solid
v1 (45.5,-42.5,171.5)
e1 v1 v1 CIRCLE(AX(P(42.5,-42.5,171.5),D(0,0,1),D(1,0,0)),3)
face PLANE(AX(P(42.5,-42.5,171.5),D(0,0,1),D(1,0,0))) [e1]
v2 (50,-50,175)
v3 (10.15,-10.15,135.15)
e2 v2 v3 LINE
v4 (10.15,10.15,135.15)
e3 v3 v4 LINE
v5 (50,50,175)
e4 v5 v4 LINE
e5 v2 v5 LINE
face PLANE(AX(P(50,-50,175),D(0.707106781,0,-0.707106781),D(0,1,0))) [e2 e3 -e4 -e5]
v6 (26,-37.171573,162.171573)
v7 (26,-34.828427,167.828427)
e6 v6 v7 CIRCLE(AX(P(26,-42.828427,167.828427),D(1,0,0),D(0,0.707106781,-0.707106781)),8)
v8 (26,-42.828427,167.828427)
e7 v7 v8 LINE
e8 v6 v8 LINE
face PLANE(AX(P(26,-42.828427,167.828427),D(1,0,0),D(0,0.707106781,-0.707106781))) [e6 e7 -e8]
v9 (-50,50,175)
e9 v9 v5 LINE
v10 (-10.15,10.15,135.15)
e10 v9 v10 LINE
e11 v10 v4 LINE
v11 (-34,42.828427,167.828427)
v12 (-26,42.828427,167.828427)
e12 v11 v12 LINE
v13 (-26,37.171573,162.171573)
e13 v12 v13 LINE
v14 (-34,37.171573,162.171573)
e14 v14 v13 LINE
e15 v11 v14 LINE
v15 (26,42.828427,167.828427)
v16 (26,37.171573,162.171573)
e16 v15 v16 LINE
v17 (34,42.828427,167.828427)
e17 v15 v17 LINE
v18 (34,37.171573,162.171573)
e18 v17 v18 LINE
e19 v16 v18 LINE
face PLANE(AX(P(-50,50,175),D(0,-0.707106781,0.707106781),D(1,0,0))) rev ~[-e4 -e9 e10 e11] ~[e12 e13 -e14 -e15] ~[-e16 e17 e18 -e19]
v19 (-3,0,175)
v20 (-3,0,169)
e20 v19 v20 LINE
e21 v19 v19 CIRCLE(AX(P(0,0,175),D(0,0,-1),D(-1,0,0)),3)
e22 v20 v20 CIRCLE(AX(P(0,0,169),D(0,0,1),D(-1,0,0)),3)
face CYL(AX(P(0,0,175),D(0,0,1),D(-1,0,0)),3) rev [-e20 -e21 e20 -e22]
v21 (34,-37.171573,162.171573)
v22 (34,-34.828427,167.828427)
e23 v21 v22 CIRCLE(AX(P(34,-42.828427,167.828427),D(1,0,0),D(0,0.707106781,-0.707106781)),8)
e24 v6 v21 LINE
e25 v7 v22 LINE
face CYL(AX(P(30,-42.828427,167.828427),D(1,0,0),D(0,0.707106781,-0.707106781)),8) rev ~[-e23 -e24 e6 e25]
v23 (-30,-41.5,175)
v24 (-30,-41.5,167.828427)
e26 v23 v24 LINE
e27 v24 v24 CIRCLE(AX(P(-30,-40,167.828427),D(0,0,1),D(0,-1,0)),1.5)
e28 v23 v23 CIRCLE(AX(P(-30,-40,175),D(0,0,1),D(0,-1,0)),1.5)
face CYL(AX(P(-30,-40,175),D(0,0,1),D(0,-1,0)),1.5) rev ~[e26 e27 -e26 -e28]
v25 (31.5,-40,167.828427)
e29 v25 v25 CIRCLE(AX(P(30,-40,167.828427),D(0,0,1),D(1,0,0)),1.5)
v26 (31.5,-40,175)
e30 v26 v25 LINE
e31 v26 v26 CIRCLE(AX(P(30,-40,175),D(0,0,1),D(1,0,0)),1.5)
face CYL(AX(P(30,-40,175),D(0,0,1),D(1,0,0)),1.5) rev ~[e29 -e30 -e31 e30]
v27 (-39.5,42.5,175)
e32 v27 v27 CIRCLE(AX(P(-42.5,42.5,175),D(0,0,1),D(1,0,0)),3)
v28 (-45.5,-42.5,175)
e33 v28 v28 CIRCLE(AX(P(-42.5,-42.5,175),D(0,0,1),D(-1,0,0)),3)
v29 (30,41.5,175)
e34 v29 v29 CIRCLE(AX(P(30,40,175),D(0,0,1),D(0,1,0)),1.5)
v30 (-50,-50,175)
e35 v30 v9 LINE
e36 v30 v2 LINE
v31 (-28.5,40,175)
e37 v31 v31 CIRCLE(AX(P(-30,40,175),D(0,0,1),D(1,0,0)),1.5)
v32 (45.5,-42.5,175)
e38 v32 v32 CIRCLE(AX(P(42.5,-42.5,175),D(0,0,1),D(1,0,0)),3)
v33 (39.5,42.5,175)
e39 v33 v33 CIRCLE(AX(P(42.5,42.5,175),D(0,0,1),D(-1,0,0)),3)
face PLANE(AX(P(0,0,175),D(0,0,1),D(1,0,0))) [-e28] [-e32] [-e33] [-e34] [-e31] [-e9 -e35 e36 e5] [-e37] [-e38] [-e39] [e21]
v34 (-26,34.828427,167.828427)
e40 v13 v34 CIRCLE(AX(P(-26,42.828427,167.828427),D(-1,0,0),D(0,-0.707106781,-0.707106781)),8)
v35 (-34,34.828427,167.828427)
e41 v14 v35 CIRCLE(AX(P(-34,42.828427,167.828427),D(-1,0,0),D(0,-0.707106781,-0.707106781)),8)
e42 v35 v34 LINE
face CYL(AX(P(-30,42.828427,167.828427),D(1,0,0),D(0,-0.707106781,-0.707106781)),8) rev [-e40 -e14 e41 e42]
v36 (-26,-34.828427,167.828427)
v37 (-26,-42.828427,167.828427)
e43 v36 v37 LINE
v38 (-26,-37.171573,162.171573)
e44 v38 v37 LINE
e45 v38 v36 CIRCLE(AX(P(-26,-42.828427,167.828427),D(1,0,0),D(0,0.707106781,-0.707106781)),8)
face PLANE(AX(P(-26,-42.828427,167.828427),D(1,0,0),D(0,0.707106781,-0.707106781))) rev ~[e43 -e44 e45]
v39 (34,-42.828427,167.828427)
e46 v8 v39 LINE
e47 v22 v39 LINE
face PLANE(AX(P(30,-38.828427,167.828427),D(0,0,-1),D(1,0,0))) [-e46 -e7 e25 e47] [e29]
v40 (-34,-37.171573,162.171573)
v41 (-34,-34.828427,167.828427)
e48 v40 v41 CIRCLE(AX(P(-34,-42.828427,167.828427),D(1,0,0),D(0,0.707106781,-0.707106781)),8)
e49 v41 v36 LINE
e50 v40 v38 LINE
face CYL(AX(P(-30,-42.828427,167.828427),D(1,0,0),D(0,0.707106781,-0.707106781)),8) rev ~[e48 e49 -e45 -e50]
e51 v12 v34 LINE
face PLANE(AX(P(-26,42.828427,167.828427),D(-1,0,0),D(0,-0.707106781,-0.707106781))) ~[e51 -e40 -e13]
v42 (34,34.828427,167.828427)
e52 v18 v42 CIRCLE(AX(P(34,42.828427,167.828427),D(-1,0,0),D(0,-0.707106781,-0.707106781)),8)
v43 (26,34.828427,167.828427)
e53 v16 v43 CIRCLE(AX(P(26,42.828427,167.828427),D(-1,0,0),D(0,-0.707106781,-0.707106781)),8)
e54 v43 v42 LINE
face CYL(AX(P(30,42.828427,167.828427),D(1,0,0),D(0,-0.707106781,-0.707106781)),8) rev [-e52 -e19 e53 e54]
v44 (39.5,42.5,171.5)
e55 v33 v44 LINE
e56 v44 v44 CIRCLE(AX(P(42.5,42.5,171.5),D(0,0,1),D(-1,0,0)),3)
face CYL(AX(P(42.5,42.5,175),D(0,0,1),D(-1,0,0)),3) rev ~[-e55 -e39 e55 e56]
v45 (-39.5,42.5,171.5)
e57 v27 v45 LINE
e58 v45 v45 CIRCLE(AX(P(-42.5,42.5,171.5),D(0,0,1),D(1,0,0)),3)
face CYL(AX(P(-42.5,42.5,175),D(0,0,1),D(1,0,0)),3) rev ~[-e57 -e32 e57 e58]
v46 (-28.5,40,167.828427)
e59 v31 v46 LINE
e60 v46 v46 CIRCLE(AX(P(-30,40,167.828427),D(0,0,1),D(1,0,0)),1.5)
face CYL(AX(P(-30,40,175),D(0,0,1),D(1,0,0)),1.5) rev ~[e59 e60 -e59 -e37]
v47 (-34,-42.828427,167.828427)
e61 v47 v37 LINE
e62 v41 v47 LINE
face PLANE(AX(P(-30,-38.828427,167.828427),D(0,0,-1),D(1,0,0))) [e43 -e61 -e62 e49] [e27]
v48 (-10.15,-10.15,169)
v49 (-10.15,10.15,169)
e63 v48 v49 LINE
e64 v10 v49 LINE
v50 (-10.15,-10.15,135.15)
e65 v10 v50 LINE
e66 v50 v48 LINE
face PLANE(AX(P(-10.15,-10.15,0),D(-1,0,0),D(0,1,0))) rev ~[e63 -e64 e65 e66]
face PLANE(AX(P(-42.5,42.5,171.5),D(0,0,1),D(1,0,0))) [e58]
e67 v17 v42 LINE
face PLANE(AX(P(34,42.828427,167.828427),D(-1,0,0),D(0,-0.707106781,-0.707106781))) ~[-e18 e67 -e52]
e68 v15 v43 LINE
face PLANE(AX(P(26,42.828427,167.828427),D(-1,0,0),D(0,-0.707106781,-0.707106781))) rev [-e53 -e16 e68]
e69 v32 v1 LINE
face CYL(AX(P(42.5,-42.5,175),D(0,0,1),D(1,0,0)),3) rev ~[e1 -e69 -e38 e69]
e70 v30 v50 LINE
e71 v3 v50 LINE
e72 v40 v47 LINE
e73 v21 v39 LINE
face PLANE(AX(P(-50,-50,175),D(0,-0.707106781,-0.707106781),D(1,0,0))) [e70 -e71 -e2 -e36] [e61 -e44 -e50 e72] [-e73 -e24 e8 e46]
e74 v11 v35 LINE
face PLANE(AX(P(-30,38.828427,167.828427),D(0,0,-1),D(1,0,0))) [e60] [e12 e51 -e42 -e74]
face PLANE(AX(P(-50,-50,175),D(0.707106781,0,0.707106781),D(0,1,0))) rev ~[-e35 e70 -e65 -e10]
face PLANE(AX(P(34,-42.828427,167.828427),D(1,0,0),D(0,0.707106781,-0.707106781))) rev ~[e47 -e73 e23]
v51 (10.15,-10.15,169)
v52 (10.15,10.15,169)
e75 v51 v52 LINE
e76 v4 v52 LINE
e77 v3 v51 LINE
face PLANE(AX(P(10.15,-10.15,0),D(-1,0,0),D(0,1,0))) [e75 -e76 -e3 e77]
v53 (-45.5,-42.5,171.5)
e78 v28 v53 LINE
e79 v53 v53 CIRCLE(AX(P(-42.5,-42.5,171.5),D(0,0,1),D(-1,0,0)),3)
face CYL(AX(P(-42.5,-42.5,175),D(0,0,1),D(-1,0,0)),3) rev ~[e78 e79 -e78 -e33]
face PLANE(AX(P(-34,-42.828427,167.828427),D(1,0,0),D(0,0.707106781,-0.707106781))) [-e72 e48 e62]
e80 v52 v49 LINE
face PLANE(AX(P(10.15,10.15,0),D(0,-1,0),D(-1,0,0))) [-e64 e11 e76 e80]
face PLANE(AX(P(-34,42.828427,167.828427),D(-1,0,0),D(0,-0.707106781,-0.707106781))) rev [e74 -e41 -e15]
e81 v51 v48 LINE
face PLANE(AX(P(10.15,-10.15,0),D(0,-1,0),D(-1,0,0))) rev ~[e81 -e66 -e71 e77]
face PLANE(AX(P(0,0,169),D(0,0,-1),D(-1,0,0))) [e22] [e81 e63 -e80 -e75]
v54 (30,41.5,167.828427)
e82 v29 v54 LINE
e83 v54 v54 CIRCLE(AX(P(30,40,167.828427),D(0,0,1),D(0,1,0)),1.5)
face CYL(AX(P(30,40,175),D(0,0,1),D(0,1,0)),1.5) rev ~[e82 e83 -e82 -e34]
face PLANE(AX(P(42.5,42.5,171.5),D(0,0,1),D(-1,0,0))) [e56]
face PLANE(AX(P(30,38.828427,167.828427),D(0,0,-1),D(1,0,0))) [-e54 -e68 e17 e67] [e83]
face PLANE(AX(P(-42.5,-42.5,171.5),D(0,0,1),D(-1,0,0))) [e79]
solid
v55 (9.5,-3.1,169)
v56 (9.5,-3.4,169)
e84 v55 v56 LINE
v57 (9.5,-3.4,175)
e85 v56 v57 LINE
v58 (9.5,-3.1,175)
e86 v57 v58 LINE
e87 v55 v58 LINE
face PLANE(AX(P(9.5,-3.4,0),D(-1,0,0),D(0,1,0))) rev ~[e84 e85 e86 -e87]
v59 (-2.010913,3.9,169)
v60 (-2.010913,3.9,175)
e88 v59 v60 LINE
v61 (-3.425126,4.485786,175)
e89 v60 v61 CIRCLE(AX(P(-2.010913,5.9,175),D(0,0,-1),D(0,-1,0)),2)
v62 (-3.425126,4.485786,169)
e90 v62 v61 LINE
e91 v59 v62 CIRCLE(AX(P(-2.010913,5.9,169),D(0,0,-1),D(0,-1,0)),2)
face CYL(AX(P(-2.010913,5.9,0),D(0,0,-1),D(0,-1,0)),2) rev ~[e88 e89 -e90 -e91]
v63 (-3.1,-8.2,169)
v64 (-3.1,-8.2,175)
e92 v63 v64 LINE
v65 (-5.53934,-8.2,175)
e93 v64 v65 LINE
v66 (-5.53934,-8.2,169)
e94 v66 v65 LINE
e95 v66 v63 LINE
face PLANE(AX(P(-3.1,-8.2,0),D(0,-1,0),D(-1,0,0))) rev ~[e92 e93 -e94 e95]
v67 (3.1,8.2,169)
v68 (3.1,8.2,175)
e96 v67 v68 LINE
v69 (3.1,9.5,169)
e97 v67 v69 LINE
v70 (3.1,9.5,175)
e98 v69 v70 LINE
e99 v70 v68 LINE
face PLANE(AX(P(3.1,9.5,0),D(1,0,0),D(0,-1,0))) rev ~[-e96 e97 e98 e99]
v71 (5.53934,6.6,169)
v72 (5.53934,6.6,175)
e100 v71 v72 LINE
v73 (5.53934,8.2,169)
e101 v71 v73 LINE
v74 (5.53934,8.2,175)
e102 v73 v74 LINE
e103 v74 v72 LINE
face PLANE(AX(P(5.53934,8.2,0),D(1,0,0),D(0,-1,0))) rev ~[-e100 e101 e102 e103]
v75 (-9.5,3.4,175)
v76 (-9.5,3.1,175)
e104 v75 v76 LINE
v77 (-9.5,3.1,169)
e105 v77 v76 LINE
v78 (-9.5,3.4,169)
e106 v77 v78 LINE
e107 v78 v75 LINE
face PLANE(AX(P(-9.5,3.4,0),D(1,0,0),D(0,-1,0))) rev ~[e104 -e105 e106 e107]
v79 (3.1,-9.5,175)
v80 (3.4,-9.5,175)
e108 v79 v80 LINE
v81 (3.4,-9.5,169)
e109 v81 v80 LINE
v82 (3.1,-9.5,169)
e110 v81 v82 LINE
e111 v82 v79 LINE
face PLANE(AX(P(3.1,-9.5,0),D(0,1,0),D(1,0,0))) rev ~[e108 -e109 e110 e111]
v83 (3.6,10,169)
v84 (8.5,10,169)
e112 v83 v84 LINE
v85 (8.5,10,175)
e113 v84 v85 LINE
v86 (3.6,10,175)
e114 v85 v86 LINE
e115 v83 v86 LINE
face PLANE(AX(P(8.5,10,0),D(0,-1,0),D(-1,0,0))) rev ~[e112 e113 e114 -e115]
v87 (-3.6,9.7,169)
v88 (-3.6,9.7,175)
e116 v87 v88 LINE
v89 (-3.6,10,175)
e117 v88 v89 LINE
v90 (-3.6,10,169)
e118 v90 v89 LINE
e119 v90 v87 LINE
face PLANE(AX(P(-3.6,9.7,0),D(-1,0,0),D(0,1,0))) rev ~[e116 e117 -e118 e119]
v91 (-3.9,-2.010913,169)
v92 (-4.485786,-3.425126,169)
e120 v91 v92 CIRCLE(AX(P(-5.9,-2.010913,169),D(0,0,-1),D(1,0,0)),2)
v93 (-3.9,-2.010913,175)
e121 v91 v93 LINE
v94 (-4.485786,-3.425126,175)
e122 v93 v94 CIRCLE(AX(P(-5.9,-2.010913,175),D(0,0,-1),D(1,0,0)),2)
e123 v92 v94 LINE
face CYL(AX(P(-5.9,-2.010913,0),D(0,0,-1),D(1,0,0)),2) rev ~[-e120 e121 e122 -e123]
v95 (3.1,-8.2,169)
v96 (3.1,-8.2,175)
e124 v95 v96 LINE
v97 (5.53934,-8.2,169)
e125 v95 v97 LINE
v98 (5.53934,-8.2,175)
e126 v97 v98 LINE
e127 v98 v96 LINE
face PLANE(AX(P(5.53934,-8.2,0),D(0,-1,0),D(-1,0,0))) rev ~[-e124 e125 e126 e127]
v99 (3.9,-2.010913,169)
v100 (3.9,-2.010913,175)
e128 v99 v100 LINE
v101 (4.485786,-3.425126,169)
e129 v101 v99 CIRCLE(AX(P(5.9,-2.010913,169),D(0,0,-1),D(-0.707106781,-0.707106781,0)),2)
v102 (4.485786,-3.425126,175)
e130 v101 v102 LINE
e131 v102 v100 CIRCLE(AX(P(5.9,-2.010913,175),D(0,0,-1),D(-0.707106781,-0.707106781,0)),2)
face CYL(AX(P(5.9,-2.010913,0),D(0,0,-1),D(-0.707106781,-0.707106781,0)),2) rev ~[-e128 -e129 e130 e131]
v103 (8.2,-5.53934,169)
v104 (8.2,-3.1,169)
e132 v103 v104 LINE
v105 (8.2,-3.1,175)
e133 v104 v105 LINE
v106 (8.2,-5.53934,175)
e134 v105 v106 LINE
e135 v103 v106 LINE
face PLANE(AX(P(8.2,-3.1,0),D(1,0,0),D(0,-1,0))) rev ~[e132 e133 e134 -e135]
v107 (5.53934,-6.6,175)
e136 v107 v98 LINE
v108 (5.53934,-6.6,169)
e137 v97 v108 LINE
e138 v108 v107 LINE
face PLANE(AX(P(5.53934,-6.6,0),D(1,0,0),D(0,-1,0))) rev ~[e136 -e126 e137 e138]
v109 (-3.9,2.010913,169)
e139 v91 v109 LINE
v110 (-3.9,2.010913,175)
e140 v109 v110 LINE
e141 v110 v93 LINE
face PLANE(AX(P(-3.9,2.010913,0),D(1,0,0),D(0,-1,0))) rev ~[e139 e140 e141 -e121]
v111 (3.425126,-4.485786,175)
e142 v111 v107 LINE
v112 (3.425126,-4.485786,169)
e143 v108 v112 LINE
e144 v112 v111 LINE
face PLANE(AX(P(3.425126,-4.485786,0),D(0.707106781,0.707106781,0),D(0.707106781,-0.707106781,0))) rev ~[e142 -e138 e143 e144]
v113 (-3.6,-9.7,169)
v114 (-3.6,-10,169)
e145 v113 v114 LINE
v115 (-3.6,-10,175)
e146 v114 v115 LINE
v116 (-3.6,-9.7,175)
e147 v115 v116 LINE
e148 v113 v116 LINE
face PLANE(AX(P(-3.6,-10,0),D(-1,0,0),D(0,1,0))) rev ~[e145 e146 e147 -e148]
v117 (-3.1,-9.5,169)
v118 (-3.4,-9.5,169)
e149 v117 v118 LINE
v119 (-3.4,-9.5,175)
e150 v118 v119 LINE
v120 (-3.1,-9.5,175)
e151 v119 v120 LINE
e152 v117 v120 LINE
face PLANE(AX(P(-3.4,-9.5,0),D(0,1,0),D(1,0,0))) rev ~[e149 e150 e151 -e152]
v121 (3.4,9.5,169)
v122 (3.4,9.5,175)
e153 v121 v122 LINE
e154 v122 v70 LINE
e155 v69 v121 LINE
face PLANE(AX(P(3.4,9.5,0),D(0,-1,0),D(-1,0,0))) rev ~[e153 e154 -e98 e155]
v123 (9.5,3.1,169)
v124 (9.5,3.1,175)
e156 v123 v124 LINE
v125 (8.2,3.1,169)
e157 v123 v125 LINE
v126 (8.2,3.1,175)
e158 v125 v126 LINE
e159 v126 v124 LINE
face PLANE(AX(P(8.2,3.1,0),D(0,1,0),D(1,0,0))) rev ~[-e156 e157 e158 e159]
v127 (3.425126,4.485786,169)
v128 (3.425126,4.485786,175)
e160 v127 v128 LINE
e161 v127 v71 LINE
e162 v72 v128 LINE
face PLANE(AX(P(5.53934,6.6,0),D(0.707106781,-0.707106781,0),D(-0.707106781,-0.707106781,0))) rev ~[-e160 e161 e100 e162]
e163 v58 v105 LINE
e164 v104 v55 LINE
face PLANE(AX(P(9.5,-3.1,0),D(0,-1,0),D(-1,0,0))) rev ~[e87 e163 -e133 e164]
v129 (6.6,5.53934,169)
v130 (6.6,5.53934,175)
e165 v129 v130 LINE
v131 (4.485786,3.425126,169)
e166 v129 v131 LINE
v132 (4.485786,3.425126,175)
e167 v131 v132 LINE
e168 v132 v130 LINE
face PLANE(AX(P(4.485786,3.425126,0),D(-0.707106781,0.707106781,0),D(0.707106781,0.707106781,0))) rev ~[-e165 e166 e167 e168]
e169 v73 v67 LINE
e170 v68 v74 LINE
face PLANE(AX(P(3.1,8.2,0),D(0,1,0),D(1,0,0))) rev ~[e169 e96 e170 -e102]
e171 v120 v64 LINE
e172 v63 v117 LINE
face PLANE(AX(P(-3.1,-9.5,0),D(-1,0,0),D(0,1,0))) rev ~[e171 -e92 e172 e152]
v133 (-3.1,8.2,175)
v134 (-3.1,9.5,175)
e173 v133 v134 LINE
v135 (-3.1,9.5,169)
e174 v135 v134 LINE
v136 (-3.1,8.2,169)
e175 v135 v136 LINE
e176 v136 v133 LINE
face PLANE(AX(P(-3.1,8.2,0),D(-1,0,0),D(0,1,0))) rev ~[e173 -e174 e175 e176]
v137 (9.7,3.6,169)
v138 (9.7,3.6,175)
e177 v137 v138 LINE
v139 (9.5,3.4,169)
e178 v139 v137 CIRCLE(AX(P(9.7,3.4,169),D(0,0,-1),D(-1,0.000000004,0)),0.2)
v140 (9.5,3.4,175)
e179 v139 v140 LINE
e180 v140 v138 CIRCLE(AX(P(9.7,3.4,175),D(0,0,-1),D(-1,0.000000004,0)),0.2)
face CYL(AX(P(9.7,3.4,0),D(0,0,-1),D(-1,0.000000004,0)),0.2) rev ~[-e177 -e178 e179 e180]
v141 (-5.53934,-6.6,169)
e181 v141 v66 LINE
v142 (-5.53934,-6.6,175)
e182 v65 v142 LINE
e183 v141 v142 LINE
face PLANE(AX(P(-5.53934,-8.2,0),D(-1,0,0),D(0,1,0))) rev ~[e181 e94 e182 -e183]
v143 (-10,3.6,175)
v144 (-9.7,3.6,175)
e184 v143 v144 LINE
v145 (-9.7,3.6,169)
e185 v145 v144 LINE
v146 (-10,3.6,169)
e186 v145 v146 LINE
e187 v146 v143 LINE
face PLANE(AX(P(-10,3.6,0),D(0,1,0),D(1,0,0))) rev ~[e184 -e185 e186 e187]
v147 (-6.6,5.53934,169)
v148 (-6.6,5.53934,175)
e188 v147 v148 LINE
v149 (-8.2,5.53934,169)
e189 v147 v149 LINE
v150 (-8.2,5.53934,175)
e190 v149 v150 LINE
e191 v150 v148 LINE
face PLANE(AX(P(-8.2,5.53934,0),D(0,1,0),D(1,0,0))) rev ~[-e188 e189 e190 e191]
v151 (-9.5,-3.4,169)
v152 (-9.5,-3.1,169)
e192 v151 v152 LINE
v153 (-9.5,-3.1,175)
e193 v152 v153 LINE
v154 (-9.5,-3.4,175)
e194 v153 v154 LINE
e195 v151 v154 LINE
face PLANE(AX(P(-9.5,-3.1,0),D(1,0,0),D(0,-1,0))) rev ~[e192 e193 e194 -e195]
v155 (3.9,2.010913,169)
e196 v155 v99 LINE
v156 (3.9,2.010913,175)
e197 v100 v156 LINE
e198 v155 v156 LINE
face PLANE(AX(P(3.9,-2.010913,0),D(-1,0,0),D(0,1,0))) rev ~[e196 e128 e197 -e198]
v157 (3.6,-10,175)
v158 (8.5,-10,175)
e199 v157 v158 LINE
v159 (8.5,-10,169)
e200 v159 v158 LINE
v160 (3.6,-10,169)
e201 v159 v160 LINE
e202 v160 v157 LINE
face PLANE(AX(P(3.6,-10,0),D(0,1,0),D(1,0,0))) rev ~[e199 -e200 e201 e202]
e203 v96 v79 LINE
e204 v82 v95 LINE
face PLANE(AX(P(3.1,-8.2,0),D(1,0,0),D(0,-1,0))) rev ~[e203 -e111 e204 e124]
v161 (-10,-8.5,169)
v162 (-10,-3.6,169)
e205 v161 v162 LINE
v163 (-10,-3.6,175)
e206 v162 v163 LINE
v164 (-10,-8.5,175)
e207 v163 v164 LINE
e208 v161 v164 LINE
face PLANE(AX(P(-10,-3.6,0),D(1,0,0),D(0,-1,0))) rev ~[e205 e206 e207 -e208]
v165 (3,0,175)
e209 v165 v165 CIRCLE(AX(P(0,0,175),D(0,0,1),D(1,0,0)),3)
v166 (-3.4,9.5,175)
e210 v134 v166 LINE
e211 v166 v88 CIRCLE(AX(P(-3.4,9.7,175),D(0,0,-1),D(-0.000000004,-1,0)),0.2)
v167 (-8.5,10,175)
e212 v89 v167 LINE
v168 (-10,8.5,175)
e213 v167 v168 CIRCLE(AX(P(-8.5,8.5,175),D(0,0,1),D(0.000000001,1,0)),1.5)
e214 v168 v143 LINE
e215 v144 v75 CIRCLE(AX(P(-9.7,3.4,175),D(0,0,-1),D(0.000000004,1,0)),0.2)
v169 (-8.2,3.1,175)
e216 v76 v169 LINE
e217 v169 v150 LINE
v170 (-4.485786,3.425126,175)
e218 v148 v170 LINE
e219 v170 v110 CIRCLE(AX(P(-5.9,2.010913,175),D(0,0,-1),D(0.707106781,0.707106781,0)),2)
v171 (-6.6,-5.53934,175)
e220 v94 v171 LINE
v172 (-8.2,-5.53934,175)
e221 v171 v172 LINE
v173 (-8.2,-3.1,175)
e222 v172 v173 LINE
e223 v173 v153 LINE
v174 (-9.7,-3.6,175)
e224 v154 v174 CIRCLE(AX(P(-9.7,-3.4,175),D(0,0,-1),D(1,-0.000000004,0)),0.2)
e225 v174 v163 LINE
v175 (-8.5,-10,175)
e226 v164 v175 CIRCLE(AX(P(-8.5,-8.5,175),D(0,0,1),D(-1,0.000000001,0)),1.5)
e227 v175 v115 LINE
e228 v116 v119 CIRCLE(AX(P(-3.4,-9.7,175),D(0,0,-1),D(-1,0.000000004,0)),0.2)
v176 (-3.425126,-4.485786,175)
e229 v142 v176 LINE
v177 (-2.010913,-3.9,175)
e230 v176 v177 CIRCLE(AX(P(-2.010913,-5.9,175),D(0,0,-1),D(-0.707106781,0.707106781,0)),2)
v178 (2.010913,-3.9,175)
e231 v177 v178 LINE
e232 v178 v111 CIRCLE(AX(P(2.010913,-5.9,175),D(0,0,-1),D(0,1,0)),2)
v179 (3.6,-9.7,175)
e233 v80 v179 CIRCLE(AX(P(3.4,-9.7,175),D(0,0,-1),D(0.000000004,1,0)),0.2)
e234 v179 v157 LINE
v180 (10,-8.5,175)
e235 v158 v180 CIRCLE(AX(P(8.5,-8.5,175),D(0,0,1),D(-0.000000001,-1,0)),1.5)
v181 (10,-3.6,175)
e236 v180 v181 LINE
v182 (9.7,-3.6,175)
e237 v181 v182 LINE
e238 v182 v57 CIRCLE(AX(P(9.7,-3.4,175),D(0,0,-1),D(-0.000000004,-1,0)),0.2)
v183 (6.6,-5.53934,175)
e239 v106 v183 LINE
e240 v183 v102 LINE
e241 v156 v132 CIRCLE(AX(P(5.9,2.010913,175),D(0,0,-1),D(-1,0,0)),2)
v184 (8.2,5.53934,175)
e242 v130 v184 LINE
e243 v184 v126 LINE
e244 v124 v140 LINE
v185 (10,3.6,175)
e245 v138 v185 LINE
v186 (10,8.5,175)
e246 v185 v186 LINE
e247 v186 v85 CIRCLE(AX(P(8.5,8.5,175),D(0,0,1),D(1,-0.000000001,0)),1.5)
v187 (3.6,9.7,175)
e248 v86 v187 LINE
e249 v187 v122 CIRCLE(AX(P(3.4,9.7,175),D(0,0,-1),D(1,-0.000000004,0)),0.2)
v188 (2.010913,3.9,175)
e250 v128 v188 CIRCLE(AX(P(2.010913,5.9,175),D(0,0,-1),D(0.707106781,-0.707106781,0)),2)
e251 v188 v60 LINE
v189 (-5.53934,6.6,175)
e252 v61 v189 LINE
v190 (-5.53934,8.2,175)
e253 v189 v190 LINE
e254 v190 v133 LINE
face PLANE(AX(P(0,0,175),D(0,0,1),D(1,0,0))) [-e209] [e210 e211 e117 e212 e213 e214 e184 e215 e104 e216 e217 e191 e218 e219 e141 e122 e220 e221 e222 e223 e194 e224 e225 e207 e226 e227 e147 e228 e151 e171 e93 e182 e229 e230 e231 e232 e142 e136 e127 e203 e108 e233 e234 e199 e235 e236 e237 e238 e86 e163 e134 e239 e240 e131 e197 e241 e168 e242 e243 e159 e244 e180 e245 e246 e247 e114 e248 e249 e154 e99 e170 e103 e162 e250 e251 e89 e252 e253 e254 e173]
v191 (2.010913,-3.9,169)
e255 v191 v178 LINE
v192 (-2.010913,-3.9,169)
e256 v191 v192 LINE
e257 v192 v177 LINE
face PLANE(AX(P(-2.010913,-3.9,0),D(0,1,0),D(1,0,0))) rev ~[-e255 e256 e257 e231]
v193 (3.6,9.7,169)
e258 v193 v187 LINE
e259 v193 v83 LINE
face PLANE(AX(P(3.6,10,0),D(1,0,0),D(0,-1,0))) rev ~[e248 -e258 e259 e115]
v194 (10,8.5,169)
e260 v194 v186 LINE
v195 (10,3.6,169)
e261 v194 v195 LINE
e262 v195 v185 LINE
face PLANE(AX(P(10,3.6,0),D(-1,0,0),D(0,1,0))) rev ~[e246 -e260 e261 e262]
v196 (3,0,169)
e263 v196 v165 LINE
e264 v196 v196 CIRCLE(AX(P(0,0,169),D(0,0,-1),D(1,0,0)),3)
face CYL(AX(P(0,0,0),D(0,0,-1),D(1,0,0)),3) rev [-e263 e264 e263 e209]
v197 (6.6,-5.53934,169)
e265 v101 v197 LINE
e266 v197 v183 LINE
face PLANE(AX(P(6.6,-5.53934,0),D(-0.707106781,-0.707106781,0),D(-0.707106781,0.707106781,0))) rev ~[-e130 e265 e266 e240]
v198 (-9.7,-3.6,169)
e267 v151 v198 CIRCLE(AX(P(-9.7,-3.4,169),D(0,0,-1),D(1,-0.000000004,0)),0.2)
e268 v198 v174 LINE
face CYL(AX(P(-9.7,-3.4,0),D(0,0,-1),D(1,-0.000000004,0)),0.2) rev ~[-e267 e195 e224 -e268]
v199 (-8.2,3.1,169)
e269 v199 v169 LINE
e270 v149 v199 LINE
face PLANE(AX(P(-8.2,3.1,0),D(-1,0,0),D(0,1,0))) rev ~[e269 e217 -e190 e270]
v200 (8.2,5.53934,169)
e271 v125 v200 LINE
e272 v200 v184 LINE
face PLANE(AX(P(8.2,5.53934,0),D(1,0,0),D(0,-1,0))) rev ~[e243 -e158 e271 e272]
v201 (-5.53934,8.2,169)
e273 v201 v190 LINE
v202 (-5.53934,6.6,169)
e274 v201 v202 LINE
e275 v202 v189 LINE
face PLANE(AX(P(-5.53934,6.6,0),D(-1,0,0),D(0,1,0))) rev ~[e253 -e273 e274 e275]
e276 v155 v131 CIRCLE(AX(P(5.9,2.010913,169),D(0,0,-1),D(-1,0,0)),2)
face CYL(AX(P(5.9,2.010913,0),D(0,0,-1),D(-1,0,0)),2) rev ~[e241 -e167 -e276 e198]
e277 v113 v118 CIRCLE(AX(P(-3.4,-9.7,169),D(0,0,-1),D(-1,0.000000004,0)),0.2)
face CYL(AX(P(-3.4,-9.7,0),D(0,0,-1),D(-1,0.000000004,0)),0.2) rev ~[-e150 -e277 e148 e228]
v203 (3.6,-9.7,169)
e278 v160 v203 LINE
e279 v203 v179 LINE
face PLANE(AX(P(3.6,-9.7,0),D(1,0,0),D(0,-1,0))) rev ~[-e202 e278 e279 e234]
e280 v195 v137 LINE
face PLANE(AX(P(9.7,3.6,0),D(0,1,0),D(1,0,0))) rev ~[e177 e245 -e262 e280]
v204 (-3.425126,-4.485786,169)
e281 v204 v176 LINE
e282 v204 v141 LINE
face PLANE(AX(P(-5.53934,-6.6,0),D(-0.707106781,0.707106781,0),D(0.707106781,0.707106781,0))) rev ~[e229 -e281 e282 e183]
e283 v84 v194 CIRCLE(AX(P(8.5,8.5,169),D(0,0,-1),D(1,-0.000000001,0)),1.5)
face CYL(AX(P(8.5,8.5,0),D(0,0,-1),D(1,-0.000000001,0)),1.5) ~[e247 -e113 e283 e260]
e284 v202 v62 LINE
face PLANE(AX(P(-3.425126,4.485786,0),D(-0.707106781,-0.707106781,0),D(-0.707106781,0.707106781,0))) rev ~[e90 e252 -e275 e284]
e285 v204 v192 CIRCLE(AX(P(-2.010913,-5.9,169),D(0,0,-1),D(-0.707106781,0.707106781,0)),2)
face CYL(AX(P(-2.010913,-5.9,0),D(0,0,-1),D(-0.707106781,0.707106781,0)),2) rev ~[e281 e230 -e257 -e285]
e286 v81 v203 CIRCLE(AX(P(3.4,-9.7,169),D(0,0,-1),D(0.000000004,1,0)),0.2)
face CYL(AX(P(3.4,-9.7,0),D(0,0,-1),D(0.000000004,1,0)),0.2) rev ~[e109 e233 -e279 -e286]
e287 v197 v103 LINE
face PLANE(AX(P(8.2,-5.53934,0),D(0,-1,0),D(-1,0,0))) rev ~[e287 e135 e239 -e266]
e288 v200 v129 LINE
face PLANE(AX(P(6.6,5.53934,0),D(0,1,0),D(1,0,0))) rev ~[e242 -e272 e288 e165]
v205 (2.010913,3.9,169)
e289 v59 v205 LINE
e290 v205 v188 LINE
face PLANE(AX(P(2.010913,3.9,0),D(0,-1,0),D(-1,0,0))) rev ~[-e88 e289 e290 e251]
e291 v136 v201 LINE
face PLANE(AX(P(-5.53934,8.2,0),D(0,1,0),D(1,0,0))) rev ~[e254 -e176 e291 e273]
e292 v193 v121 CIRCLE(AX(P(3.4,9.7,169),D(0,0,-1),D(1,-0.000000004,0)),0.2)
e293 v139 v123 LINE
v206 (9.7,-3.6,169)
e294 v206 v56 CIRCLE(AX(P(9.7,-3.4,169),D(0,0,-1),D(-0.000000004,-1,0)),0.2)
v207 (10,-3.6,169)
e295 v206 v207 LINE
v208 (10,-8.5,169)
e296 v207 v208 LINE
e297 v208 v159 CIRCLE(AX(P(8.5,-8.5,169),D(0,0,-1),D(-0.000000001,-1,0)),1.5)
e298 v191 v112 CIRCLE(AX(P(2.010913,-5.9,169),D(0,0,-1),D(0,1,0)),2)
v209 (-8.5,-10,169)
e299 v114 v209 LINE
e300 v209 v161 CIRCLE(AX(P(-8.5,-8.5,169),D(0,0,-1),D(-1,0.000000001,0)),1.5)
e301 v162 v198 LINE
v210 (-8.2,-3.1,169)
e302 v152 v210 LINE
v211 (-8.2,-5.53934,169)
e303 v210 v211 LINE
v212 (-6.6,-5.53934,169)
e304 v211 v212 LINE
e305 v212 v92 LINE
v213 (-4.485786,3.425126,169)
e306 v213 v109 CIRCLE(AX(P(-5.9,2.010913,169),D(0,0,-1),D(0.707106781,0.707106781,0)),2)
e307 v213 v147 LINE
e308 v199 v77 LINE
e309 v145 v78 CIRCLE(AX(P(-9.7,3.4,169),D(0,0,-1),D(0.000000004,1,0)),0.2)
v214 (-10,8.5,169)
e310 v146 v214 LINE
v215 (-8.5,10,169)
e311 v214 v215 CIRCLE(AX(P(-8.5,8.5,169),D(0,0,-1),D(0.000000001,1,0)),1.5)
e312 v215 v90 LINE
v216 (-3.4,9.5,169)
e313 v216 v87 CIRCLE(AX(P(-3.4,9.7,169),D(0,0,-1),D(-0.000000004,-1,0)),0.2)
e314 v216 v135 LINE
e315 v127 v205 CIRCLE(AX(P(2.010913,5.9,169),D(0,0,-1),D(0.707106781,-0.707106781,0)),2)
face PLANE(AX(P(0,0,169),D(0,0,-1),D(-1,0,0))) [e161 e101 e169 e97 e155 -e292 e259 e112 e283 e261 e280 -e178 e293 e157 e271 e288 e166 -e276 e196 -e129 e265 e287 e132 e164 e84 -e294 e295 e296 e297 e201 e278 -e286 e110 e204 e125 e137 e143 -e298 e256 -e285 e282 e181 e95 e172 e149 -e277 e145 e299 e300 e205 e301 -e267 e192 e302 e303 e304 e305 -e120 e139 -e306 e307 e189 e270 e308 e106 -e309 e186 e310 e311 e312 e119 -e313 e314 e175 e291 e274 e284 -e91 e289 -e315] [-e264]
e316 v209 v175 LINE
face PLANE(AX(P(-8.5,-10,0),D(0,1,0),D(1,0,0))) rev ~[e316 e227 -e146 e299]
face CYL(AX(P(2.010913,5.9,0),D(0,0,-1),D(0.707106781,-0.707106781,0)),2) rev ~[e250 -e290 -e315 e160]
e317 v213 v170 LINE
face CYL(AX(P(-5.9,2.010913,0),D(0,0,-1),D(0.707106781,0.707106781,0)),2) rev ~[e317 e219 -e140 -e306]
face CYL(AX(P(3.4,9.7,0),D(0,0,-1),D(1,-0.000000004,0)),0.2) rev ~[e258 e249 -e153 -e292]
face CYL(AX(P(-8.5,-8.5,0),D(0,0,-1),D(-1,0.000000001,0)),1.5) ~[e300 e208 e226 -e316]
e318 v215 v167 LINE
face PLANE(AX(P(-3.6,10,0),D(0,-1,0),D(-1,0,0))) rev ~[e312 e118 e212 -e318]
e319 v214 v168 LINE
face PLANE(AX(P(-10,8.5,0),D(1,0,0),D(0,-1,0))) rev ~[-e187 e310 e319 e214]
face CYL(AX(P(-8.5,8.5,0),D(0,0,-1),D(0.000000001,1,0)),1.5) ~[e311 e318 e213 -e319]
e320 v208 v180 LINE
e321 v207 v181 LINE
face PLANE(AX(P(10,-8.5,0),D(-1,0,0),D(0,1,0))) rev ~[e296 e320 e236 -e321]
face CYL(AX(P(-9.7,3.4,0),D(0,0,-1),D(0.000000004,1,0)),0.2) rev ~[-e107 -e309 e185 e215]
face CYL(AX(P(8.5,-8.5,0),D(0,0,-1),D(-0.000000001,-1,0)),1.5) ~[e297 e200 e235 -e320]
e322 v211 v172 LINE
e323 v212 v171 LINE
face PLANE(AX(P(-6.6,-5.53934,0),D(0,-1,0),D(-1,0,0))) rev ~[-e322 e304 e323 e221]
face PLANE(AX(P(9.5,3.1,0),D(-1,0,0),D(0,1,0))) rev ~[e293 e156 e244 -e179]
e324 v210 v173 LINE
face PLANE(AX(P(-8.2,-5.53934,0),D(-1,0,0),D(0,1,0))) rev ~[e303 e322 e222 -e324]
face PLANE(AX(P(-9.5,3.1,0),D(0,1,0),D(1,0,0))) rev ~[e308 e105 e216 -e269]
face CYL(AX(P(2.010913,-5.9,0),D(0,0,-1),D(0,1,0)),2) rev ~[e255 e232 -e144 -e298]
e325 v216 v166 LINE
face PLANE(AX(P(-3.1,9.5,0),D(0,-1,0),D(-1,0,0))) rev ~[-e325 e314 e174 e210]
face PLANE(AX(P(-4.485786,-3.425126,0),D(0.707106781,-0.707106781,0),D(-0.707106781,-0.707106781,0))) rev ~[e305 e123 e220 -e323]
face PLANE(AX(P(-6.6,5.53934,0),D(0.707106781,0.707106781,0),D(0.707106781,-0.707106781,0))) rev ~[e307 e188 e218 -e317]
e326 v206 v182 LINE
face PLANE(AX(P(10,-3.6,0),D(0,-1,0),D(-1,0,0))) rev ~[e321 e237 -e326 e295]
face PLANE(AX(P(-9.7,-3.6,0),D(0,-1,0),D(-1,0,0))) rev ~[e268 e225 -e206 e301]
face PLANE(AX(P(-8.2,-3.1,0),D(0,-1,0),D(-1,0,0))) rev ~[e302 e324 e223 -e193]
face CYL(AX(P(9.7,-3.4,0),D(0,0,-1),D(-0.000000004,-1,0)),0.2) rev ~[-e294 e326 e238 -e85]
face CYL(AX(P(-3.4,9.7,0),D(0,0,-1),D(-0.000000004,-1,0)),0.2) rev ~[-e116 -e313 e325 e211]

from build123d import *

# Parameters (mm, degrees)
SKETCH1_R                = 3
EXTRUDE_1_DEPTH          = 175
SKETCH_1_W               = 100
SKETCH_1_H               = 100
EXTRUDE_2_DEPTH          = 40
EXTRUDE_2_DRAFT          = -45
SKETCH_3_R               = 1.5
CUT_EXTRUDE_2_DEPTH      = 40
SKETCH_4_W               = 8
SKETCH_4_H               = 8
CUT_REVOLVE_1_ANGLE      = 45
CUT_EXTRUDE_4_DEPTH      = 189.745860882
CUT_EXTRUDE_4_DEPTH_BACK = 175
SKETCH_6_R               = 3
SKETCH_8_R               = 3
CUT_EXTRUDE_6_DEPTH      = 3.5
SKETCH_9_W               = 20.3
SKETCH_9_H               = 20.3
CUT_EXTRUDE_7_DEPTH      = 169
SKETCH_10_W              = 8
SKETCH_10_H              = 8
CUT_REVOLVE_3_ANGLE      = 45


with BuildPart() as part:
    # Sketch1 → Бобышка-Вытянуть1 (new body)
    with BuildSketch(Plane.XY):
        with BuildLine():
            Line((0, 3.9), (-2.010912703, 3.9))
            ThreePointArc((-2.010912703, 3.9), (-2.776279568, 4.052240935), (-3.425126266, 4.485786438))
            Line((-3.425126266, 4.485786438), (-5.539339828, 6.6))
            Line((-5.539339828, 6.6), (-5.539339828, 8.2))
            Line((-5.539339828, 8.2), (-3.1, 8.2))
            Line((-3.1, 8.2), (-3.1, 9.5))
            Line((-3.1, 9.5), (-3.4, 9.5))
            ThreePointArc((-3.4, 9.5), (-3.541421356, 9.558578644), (-3.6, 9.7))
            Line((-3.6, 9.7), (-3.6, 10))
            Line((-3.6, 10), (-8.5, 10))
            ThreePointArc((-8.5, 10), (-9.560660172, 9.560660172), (-10, 8.5))
            Line((-10, 8.5), (-10, 3.6))
            Line((-10, 3.6), (-9.7, 3.6))
            ThreePointArc((-9.7, 3.6), (-9.558578644, 3.541421356), (-9.5, 3.4))
            Line((-9.5, 3.4), (-9.5, 3.1))
            Line((-9.5, 3.1), (-8.2, 3.1))
            Line((-8.2, 3.1), (-8.2, 5.539339828))
            Line((-8.2, 5.539339828), (-6.6, 5.539339828))
            Line((-6.6, 5.539339828), (-4.485786438, 3.425126266))
            ThreePointArc((-4.485786438, 3.425126266), (-4.052240935, 2.776279568), (-3.9, 2.010912703))
            Line((-3.9, 2.010912703), (-3.9, 0))
            Line((-3.9, 0), (-3.9, -2.010912703))
            ThreePointArc((-3.9, -2.010912703), (-4.052240935, -2.776279568), (-4.485786438, -3.425126266))
            Line((-4.485786438, -3.425126266), (-6.6, -5.539339828))
            Line((-6.6, -5.539339828), (-8.2, -5.539339828))
            Line((-8.2, -5.539339828), (-8.2, -3.1))
            Line((-8.2, -3.1), (-9.5, -3.1))
            Line((-9.5, -3.1), (-9.5, -3.4))
            ThreePointArc((-9.5, -3.4), (-9.558578644, -3.541421356), (-9.7, -3.6))
            Line((-9.7, -3.6), (-10, -3.6))
            Line((-10, -3.6), (-10, -8.5))
            ThreePointArc((-10, -8.5), (-9.560660172, -9.560660172), (-8.5, -10))
            Line((-8.5, -10), (-3.6, -10))
            Line((-3.6, -10), (-3.6, -9.7))
            ThreePointArc((-3.6, -9.7), (-3.541421356, -9.558578644), (-3.4, -9.5))
            Line((-3.4, -9.5), (-3.1, -9.5))
            Line((-3.1, -9.5), (-3.1, -8.2))
            Line((-3.1, -8.2), (-5.539339828, -8.2))
            Line((-5.539339828, -8.2), (-5.539339828, -6.6))
            Line((-5.539339828, -6.6), (-3.425126266, -4.485786438))
            ThreePointArc((-3.425126266, -4.485786438), (-2.776279568, -4.052240935), (-2.010912703, -3.9))
            Line((-2.010912703, -3.9), (0, -3.9))
            Line((0, -3.9), (2.010912703, -3.9))
            ThreePointArc((2.010912703, -3.9), (2.776279568, -4.052240935), (3.425126266, -4.485786438))
            Line((3.425126266, -4.485786438), (5.539339828, -6.6))
            Line((5.539339828, -6.6), (5.539339828, -8.2))
            Line((5.539339828, -8.2), (3.1, -8.2))
            Line((3.1, -8.2), (3.1, -9.5))
            Line((3.1, -9.5), (3.4, -9.5))
            ThreePointArc((3.4, -9.5), (3.541421356, -9.558578644), (3.6, -9.7))
            Line((3.6, -9.7), (3.6, -10))
            Line((3.6, -10), (8.5, -10))
            ThreePointArc((8.5, -10), (9.560660172, -9.560660172), (10, -8.5))
            Line((10, -8.5), (10, -3.6))
            Line((10, -3.6), (9.7, -3.6))
            ThreePointArc((9.7, -3.6), (9.558578644, -3.541421356), (9.5, -3.4))
            Line((9.5, -3.4), (9.5, -3.1))
            Line((9.5, -3.1), (8.2, -3.1))
            Line((8.2, -3.1), (8.2, -5.539339828))
            Line((8.2, -5.539339828), (6.6, -5.539339828))
            Line((6.6, -5.539339828), (4.485786438, -3.425126266))
            ThreePointArc((4.485786438, -3.425126266), (4.052240935, -2.776279568), (3.9, -2.010912703))
            Line((3.9, -2.010912703), (3.9, 0))
            Line((3.9, 0), (3.9, 2.010912703))
            ThreePointArc((3.9, 2.010912703), (4.052240935, 2.776279568), (4.485786438, 3.425126266))
            Line((4.485786438, 3.425126266), (6.6, 5.539339828))
            Line((6.6, 5.539339828), (8.2, 5.539339828))
            Line((8.2, 5.539339828), (8.2, 3.1))
            Line((8.2, 3.1), (9.5, 3.1))
            Line((9.5, 3.1), (9.5, 3.4))
            ThreePointArc((9.5, 3.4), (9.558578644, 3.541421356), (9.7, 3.6))
            Line((9.7, 3.6), (10, 3.6))
            Line((10, 3.6), (10, 8.5))
            ThreePointArc((10, 8.5), (9.560660172, 9.560660172), (8.5, 10))
            Line((8.5, 10), (3.6, 10))
            Line((3.6, 10), (3.6, 9.7))
            ThreePointArc((3.6, 9.7), (3.541421356, 9.558578644), (3.4, 9.5))
            Line((3.4, 9.5), (3.1, 9.5))
            Line((3.1, 9.5), (3.1, 8.2))
            Line((3.1, 8.2), (5.539339828, 8.2))
            Line((5.539339828, 8.2), (5.539339828, 6.6))
            Line((5.539339828, 6.6), (3.425126266, 4.485786438))
            ThreePointArc((3.425126266, 4.485786438), (2.776279568, 4.052240935), (2.010912703, 3.9))
            Line((2.010912703, 3.9), (0, 3.9))
        make_face()
        Circle(SKETCH1_R, mode=Mode.SUBTRACT)
    extrude(amount=EXTRUDE_1_DEPTH)


with BuildPart() as body_2:
    # Эскиз1 → Бобышка-Вытянуть2 (with draft: the straight prism first)
    with BuildSketch(Plane.XY.offset(175)):
        Rectangle(SKETCH_1_W, SKETCH_1_H)
    extrude(amount=-EXTRUDE_2_DEPTH)
    # Бобышка-Вытянуть2: the draft: its side faces are tilted about the plane it starts from
    extrude_2_sides = [body_2.faces().sort_by_distance(p)[0] for p in [
        (0, -50, 155),
        (50, 0, 155),
        (0, 50, 155),
        (-50, 0, 155),
    ]]
    draft(extrude_2_sides, Plane.XY.offset(175), EXTRUDE_2_DRAFT)

    # Эскиз3 → Вырез-Вытянуть2 (cut)
    with BuildSketch(Plane.XY.offset(175)):
        with Locations((-30, 40)):
            Circle(SKETCH_3_R)
        with Locations(Location((30, 40, 0), (0, 0, 90))):
            Circle(SKETCH_3_R)
        with Locations((30, -40)):
            Circle(SKETCH_3_R)
        with Locations(Location((-30, -40, 0), (0, 0, 270))):
            Circle(SKETCH_3_R)
    extrude(amount=-CUT_EXTRUDE_2_DEPTH, mode=Mode.SUBTRACT)

    # Эскиз4 → Вырез-Повернуть1 (revolve, cut)
    with BuildSketch(Plane(origin=(0, 62.5, 62.5), x_dir=(1, 0, 0), z_dir=(0, -0.7071067811865462, -0.7071067811865488))):
        with Locations((-30, 144.956890143)):
            Rectangle(SKETCH_4_W, SKETCH_4_H)
        with Locations((30, 144.956890143)):
            Rectangle(SKETCH_4_W, SKETCH_4_H)
    revolve(axis=Axis((-34, -42.828427125, 167.828427125), (1, 0, 0)), revolution_arc=CUT_REVOLVE_1_ANGLE, mode=Mode.SUBTRACT)

    # Эскиз6 → Вырез-Вытянуть4 (cut, two sides: drawn at the far end of the back side and taken through both)
    with BuildSketch(Plane(origin=(0, 0, 0), x_dir=(-1, 0, 0), z_dir=(0, 0, -1)).offset(-CUT_EXTRUDE_4_DEPTH_BACK)):
        Circle(SKETCH_6_R)
    extrude(amount=CUT_EXTRUDE_4_DEPTH + CUT_EXTRUDE_4_DEPTH_BACK, mode=Mode.SUBTRACT)

    # Эскиз8 → Вырез-Вытянуть6 (cut)
    with BuildSketch(Plane.XY.offset(175)):
        with Locations((-42.5, 42.5)):
            Circle(SKETCH_8_R)
        with Locations(Location((42.5, 42.5, 0), (0, 0, 180))):
            Circle(SKETCH_8_R)
        with Locations((42.5, -42.5)):
            Circle(SKETCH_8_R)
        with Locations(Location((-42.5, -42.5, 0), (0, 0, 180))):
            Circle(SKETCH_8_R)
    extrude(amount=-CUT_EXTRUDE_6_DEPTH, mode=Mode.SUBTRACT)


with BuildPart() as cut_extrude_7_tool:
    # Эскиз9 → Вырез-Вытянуть7 (new body)
    with BuildSketch(Plane(origin=(0, 0, 0), x_dir=(-1, 0, 0), z_dir=(0, 0, -1))):
        Rectangle(SKETCH_9_W, SKETCH_9_H)
    extrude(amount=-CUT_EXTRUDE_7_DEPTH)


with BuildPart() as part_1:
    add(part.part)

    # Вырез-Вытянуть7: cut by cut_extrude_7_tool
    add(cut_extrude_7_tool.part, mode=Mode.SUBTRACT)


with BuildPart() as body_2_1:
    add(body_2.part)

    # Вырез-Вытянуть7: cut by cut_extrude_7_tool
    add(cut_extrude_7_tool.part, mode=Mode.SUBTRACT)

    # Эскиз10 → Вырез-Повернуть3 (revolve, cut)
    with BuildSketch(Plane(origin=(0, -62.5, 62.5), x_dir=(1, 0, 0), z_dir=(0, 0.7071067811865462, -0.7071067811865488))):
        with Locations((-30, -144.956890143)):
            Rectangle(SKETCH_10_W, SKETCH_10_H)
        with Locations((30, -144.956890143)):
            Rectangle(SKETCH_10_W, SKETCH_10_H)
    revolve(axis=Axis((34, 42.828427125, 167.828427125), (-1, 0, 0)), revolution_arc=CUT_REVOLVE_3_ANGLE, mode=Mode.SUBTRACT)


solid = Compound([part_1.part, body_2_1.part])
